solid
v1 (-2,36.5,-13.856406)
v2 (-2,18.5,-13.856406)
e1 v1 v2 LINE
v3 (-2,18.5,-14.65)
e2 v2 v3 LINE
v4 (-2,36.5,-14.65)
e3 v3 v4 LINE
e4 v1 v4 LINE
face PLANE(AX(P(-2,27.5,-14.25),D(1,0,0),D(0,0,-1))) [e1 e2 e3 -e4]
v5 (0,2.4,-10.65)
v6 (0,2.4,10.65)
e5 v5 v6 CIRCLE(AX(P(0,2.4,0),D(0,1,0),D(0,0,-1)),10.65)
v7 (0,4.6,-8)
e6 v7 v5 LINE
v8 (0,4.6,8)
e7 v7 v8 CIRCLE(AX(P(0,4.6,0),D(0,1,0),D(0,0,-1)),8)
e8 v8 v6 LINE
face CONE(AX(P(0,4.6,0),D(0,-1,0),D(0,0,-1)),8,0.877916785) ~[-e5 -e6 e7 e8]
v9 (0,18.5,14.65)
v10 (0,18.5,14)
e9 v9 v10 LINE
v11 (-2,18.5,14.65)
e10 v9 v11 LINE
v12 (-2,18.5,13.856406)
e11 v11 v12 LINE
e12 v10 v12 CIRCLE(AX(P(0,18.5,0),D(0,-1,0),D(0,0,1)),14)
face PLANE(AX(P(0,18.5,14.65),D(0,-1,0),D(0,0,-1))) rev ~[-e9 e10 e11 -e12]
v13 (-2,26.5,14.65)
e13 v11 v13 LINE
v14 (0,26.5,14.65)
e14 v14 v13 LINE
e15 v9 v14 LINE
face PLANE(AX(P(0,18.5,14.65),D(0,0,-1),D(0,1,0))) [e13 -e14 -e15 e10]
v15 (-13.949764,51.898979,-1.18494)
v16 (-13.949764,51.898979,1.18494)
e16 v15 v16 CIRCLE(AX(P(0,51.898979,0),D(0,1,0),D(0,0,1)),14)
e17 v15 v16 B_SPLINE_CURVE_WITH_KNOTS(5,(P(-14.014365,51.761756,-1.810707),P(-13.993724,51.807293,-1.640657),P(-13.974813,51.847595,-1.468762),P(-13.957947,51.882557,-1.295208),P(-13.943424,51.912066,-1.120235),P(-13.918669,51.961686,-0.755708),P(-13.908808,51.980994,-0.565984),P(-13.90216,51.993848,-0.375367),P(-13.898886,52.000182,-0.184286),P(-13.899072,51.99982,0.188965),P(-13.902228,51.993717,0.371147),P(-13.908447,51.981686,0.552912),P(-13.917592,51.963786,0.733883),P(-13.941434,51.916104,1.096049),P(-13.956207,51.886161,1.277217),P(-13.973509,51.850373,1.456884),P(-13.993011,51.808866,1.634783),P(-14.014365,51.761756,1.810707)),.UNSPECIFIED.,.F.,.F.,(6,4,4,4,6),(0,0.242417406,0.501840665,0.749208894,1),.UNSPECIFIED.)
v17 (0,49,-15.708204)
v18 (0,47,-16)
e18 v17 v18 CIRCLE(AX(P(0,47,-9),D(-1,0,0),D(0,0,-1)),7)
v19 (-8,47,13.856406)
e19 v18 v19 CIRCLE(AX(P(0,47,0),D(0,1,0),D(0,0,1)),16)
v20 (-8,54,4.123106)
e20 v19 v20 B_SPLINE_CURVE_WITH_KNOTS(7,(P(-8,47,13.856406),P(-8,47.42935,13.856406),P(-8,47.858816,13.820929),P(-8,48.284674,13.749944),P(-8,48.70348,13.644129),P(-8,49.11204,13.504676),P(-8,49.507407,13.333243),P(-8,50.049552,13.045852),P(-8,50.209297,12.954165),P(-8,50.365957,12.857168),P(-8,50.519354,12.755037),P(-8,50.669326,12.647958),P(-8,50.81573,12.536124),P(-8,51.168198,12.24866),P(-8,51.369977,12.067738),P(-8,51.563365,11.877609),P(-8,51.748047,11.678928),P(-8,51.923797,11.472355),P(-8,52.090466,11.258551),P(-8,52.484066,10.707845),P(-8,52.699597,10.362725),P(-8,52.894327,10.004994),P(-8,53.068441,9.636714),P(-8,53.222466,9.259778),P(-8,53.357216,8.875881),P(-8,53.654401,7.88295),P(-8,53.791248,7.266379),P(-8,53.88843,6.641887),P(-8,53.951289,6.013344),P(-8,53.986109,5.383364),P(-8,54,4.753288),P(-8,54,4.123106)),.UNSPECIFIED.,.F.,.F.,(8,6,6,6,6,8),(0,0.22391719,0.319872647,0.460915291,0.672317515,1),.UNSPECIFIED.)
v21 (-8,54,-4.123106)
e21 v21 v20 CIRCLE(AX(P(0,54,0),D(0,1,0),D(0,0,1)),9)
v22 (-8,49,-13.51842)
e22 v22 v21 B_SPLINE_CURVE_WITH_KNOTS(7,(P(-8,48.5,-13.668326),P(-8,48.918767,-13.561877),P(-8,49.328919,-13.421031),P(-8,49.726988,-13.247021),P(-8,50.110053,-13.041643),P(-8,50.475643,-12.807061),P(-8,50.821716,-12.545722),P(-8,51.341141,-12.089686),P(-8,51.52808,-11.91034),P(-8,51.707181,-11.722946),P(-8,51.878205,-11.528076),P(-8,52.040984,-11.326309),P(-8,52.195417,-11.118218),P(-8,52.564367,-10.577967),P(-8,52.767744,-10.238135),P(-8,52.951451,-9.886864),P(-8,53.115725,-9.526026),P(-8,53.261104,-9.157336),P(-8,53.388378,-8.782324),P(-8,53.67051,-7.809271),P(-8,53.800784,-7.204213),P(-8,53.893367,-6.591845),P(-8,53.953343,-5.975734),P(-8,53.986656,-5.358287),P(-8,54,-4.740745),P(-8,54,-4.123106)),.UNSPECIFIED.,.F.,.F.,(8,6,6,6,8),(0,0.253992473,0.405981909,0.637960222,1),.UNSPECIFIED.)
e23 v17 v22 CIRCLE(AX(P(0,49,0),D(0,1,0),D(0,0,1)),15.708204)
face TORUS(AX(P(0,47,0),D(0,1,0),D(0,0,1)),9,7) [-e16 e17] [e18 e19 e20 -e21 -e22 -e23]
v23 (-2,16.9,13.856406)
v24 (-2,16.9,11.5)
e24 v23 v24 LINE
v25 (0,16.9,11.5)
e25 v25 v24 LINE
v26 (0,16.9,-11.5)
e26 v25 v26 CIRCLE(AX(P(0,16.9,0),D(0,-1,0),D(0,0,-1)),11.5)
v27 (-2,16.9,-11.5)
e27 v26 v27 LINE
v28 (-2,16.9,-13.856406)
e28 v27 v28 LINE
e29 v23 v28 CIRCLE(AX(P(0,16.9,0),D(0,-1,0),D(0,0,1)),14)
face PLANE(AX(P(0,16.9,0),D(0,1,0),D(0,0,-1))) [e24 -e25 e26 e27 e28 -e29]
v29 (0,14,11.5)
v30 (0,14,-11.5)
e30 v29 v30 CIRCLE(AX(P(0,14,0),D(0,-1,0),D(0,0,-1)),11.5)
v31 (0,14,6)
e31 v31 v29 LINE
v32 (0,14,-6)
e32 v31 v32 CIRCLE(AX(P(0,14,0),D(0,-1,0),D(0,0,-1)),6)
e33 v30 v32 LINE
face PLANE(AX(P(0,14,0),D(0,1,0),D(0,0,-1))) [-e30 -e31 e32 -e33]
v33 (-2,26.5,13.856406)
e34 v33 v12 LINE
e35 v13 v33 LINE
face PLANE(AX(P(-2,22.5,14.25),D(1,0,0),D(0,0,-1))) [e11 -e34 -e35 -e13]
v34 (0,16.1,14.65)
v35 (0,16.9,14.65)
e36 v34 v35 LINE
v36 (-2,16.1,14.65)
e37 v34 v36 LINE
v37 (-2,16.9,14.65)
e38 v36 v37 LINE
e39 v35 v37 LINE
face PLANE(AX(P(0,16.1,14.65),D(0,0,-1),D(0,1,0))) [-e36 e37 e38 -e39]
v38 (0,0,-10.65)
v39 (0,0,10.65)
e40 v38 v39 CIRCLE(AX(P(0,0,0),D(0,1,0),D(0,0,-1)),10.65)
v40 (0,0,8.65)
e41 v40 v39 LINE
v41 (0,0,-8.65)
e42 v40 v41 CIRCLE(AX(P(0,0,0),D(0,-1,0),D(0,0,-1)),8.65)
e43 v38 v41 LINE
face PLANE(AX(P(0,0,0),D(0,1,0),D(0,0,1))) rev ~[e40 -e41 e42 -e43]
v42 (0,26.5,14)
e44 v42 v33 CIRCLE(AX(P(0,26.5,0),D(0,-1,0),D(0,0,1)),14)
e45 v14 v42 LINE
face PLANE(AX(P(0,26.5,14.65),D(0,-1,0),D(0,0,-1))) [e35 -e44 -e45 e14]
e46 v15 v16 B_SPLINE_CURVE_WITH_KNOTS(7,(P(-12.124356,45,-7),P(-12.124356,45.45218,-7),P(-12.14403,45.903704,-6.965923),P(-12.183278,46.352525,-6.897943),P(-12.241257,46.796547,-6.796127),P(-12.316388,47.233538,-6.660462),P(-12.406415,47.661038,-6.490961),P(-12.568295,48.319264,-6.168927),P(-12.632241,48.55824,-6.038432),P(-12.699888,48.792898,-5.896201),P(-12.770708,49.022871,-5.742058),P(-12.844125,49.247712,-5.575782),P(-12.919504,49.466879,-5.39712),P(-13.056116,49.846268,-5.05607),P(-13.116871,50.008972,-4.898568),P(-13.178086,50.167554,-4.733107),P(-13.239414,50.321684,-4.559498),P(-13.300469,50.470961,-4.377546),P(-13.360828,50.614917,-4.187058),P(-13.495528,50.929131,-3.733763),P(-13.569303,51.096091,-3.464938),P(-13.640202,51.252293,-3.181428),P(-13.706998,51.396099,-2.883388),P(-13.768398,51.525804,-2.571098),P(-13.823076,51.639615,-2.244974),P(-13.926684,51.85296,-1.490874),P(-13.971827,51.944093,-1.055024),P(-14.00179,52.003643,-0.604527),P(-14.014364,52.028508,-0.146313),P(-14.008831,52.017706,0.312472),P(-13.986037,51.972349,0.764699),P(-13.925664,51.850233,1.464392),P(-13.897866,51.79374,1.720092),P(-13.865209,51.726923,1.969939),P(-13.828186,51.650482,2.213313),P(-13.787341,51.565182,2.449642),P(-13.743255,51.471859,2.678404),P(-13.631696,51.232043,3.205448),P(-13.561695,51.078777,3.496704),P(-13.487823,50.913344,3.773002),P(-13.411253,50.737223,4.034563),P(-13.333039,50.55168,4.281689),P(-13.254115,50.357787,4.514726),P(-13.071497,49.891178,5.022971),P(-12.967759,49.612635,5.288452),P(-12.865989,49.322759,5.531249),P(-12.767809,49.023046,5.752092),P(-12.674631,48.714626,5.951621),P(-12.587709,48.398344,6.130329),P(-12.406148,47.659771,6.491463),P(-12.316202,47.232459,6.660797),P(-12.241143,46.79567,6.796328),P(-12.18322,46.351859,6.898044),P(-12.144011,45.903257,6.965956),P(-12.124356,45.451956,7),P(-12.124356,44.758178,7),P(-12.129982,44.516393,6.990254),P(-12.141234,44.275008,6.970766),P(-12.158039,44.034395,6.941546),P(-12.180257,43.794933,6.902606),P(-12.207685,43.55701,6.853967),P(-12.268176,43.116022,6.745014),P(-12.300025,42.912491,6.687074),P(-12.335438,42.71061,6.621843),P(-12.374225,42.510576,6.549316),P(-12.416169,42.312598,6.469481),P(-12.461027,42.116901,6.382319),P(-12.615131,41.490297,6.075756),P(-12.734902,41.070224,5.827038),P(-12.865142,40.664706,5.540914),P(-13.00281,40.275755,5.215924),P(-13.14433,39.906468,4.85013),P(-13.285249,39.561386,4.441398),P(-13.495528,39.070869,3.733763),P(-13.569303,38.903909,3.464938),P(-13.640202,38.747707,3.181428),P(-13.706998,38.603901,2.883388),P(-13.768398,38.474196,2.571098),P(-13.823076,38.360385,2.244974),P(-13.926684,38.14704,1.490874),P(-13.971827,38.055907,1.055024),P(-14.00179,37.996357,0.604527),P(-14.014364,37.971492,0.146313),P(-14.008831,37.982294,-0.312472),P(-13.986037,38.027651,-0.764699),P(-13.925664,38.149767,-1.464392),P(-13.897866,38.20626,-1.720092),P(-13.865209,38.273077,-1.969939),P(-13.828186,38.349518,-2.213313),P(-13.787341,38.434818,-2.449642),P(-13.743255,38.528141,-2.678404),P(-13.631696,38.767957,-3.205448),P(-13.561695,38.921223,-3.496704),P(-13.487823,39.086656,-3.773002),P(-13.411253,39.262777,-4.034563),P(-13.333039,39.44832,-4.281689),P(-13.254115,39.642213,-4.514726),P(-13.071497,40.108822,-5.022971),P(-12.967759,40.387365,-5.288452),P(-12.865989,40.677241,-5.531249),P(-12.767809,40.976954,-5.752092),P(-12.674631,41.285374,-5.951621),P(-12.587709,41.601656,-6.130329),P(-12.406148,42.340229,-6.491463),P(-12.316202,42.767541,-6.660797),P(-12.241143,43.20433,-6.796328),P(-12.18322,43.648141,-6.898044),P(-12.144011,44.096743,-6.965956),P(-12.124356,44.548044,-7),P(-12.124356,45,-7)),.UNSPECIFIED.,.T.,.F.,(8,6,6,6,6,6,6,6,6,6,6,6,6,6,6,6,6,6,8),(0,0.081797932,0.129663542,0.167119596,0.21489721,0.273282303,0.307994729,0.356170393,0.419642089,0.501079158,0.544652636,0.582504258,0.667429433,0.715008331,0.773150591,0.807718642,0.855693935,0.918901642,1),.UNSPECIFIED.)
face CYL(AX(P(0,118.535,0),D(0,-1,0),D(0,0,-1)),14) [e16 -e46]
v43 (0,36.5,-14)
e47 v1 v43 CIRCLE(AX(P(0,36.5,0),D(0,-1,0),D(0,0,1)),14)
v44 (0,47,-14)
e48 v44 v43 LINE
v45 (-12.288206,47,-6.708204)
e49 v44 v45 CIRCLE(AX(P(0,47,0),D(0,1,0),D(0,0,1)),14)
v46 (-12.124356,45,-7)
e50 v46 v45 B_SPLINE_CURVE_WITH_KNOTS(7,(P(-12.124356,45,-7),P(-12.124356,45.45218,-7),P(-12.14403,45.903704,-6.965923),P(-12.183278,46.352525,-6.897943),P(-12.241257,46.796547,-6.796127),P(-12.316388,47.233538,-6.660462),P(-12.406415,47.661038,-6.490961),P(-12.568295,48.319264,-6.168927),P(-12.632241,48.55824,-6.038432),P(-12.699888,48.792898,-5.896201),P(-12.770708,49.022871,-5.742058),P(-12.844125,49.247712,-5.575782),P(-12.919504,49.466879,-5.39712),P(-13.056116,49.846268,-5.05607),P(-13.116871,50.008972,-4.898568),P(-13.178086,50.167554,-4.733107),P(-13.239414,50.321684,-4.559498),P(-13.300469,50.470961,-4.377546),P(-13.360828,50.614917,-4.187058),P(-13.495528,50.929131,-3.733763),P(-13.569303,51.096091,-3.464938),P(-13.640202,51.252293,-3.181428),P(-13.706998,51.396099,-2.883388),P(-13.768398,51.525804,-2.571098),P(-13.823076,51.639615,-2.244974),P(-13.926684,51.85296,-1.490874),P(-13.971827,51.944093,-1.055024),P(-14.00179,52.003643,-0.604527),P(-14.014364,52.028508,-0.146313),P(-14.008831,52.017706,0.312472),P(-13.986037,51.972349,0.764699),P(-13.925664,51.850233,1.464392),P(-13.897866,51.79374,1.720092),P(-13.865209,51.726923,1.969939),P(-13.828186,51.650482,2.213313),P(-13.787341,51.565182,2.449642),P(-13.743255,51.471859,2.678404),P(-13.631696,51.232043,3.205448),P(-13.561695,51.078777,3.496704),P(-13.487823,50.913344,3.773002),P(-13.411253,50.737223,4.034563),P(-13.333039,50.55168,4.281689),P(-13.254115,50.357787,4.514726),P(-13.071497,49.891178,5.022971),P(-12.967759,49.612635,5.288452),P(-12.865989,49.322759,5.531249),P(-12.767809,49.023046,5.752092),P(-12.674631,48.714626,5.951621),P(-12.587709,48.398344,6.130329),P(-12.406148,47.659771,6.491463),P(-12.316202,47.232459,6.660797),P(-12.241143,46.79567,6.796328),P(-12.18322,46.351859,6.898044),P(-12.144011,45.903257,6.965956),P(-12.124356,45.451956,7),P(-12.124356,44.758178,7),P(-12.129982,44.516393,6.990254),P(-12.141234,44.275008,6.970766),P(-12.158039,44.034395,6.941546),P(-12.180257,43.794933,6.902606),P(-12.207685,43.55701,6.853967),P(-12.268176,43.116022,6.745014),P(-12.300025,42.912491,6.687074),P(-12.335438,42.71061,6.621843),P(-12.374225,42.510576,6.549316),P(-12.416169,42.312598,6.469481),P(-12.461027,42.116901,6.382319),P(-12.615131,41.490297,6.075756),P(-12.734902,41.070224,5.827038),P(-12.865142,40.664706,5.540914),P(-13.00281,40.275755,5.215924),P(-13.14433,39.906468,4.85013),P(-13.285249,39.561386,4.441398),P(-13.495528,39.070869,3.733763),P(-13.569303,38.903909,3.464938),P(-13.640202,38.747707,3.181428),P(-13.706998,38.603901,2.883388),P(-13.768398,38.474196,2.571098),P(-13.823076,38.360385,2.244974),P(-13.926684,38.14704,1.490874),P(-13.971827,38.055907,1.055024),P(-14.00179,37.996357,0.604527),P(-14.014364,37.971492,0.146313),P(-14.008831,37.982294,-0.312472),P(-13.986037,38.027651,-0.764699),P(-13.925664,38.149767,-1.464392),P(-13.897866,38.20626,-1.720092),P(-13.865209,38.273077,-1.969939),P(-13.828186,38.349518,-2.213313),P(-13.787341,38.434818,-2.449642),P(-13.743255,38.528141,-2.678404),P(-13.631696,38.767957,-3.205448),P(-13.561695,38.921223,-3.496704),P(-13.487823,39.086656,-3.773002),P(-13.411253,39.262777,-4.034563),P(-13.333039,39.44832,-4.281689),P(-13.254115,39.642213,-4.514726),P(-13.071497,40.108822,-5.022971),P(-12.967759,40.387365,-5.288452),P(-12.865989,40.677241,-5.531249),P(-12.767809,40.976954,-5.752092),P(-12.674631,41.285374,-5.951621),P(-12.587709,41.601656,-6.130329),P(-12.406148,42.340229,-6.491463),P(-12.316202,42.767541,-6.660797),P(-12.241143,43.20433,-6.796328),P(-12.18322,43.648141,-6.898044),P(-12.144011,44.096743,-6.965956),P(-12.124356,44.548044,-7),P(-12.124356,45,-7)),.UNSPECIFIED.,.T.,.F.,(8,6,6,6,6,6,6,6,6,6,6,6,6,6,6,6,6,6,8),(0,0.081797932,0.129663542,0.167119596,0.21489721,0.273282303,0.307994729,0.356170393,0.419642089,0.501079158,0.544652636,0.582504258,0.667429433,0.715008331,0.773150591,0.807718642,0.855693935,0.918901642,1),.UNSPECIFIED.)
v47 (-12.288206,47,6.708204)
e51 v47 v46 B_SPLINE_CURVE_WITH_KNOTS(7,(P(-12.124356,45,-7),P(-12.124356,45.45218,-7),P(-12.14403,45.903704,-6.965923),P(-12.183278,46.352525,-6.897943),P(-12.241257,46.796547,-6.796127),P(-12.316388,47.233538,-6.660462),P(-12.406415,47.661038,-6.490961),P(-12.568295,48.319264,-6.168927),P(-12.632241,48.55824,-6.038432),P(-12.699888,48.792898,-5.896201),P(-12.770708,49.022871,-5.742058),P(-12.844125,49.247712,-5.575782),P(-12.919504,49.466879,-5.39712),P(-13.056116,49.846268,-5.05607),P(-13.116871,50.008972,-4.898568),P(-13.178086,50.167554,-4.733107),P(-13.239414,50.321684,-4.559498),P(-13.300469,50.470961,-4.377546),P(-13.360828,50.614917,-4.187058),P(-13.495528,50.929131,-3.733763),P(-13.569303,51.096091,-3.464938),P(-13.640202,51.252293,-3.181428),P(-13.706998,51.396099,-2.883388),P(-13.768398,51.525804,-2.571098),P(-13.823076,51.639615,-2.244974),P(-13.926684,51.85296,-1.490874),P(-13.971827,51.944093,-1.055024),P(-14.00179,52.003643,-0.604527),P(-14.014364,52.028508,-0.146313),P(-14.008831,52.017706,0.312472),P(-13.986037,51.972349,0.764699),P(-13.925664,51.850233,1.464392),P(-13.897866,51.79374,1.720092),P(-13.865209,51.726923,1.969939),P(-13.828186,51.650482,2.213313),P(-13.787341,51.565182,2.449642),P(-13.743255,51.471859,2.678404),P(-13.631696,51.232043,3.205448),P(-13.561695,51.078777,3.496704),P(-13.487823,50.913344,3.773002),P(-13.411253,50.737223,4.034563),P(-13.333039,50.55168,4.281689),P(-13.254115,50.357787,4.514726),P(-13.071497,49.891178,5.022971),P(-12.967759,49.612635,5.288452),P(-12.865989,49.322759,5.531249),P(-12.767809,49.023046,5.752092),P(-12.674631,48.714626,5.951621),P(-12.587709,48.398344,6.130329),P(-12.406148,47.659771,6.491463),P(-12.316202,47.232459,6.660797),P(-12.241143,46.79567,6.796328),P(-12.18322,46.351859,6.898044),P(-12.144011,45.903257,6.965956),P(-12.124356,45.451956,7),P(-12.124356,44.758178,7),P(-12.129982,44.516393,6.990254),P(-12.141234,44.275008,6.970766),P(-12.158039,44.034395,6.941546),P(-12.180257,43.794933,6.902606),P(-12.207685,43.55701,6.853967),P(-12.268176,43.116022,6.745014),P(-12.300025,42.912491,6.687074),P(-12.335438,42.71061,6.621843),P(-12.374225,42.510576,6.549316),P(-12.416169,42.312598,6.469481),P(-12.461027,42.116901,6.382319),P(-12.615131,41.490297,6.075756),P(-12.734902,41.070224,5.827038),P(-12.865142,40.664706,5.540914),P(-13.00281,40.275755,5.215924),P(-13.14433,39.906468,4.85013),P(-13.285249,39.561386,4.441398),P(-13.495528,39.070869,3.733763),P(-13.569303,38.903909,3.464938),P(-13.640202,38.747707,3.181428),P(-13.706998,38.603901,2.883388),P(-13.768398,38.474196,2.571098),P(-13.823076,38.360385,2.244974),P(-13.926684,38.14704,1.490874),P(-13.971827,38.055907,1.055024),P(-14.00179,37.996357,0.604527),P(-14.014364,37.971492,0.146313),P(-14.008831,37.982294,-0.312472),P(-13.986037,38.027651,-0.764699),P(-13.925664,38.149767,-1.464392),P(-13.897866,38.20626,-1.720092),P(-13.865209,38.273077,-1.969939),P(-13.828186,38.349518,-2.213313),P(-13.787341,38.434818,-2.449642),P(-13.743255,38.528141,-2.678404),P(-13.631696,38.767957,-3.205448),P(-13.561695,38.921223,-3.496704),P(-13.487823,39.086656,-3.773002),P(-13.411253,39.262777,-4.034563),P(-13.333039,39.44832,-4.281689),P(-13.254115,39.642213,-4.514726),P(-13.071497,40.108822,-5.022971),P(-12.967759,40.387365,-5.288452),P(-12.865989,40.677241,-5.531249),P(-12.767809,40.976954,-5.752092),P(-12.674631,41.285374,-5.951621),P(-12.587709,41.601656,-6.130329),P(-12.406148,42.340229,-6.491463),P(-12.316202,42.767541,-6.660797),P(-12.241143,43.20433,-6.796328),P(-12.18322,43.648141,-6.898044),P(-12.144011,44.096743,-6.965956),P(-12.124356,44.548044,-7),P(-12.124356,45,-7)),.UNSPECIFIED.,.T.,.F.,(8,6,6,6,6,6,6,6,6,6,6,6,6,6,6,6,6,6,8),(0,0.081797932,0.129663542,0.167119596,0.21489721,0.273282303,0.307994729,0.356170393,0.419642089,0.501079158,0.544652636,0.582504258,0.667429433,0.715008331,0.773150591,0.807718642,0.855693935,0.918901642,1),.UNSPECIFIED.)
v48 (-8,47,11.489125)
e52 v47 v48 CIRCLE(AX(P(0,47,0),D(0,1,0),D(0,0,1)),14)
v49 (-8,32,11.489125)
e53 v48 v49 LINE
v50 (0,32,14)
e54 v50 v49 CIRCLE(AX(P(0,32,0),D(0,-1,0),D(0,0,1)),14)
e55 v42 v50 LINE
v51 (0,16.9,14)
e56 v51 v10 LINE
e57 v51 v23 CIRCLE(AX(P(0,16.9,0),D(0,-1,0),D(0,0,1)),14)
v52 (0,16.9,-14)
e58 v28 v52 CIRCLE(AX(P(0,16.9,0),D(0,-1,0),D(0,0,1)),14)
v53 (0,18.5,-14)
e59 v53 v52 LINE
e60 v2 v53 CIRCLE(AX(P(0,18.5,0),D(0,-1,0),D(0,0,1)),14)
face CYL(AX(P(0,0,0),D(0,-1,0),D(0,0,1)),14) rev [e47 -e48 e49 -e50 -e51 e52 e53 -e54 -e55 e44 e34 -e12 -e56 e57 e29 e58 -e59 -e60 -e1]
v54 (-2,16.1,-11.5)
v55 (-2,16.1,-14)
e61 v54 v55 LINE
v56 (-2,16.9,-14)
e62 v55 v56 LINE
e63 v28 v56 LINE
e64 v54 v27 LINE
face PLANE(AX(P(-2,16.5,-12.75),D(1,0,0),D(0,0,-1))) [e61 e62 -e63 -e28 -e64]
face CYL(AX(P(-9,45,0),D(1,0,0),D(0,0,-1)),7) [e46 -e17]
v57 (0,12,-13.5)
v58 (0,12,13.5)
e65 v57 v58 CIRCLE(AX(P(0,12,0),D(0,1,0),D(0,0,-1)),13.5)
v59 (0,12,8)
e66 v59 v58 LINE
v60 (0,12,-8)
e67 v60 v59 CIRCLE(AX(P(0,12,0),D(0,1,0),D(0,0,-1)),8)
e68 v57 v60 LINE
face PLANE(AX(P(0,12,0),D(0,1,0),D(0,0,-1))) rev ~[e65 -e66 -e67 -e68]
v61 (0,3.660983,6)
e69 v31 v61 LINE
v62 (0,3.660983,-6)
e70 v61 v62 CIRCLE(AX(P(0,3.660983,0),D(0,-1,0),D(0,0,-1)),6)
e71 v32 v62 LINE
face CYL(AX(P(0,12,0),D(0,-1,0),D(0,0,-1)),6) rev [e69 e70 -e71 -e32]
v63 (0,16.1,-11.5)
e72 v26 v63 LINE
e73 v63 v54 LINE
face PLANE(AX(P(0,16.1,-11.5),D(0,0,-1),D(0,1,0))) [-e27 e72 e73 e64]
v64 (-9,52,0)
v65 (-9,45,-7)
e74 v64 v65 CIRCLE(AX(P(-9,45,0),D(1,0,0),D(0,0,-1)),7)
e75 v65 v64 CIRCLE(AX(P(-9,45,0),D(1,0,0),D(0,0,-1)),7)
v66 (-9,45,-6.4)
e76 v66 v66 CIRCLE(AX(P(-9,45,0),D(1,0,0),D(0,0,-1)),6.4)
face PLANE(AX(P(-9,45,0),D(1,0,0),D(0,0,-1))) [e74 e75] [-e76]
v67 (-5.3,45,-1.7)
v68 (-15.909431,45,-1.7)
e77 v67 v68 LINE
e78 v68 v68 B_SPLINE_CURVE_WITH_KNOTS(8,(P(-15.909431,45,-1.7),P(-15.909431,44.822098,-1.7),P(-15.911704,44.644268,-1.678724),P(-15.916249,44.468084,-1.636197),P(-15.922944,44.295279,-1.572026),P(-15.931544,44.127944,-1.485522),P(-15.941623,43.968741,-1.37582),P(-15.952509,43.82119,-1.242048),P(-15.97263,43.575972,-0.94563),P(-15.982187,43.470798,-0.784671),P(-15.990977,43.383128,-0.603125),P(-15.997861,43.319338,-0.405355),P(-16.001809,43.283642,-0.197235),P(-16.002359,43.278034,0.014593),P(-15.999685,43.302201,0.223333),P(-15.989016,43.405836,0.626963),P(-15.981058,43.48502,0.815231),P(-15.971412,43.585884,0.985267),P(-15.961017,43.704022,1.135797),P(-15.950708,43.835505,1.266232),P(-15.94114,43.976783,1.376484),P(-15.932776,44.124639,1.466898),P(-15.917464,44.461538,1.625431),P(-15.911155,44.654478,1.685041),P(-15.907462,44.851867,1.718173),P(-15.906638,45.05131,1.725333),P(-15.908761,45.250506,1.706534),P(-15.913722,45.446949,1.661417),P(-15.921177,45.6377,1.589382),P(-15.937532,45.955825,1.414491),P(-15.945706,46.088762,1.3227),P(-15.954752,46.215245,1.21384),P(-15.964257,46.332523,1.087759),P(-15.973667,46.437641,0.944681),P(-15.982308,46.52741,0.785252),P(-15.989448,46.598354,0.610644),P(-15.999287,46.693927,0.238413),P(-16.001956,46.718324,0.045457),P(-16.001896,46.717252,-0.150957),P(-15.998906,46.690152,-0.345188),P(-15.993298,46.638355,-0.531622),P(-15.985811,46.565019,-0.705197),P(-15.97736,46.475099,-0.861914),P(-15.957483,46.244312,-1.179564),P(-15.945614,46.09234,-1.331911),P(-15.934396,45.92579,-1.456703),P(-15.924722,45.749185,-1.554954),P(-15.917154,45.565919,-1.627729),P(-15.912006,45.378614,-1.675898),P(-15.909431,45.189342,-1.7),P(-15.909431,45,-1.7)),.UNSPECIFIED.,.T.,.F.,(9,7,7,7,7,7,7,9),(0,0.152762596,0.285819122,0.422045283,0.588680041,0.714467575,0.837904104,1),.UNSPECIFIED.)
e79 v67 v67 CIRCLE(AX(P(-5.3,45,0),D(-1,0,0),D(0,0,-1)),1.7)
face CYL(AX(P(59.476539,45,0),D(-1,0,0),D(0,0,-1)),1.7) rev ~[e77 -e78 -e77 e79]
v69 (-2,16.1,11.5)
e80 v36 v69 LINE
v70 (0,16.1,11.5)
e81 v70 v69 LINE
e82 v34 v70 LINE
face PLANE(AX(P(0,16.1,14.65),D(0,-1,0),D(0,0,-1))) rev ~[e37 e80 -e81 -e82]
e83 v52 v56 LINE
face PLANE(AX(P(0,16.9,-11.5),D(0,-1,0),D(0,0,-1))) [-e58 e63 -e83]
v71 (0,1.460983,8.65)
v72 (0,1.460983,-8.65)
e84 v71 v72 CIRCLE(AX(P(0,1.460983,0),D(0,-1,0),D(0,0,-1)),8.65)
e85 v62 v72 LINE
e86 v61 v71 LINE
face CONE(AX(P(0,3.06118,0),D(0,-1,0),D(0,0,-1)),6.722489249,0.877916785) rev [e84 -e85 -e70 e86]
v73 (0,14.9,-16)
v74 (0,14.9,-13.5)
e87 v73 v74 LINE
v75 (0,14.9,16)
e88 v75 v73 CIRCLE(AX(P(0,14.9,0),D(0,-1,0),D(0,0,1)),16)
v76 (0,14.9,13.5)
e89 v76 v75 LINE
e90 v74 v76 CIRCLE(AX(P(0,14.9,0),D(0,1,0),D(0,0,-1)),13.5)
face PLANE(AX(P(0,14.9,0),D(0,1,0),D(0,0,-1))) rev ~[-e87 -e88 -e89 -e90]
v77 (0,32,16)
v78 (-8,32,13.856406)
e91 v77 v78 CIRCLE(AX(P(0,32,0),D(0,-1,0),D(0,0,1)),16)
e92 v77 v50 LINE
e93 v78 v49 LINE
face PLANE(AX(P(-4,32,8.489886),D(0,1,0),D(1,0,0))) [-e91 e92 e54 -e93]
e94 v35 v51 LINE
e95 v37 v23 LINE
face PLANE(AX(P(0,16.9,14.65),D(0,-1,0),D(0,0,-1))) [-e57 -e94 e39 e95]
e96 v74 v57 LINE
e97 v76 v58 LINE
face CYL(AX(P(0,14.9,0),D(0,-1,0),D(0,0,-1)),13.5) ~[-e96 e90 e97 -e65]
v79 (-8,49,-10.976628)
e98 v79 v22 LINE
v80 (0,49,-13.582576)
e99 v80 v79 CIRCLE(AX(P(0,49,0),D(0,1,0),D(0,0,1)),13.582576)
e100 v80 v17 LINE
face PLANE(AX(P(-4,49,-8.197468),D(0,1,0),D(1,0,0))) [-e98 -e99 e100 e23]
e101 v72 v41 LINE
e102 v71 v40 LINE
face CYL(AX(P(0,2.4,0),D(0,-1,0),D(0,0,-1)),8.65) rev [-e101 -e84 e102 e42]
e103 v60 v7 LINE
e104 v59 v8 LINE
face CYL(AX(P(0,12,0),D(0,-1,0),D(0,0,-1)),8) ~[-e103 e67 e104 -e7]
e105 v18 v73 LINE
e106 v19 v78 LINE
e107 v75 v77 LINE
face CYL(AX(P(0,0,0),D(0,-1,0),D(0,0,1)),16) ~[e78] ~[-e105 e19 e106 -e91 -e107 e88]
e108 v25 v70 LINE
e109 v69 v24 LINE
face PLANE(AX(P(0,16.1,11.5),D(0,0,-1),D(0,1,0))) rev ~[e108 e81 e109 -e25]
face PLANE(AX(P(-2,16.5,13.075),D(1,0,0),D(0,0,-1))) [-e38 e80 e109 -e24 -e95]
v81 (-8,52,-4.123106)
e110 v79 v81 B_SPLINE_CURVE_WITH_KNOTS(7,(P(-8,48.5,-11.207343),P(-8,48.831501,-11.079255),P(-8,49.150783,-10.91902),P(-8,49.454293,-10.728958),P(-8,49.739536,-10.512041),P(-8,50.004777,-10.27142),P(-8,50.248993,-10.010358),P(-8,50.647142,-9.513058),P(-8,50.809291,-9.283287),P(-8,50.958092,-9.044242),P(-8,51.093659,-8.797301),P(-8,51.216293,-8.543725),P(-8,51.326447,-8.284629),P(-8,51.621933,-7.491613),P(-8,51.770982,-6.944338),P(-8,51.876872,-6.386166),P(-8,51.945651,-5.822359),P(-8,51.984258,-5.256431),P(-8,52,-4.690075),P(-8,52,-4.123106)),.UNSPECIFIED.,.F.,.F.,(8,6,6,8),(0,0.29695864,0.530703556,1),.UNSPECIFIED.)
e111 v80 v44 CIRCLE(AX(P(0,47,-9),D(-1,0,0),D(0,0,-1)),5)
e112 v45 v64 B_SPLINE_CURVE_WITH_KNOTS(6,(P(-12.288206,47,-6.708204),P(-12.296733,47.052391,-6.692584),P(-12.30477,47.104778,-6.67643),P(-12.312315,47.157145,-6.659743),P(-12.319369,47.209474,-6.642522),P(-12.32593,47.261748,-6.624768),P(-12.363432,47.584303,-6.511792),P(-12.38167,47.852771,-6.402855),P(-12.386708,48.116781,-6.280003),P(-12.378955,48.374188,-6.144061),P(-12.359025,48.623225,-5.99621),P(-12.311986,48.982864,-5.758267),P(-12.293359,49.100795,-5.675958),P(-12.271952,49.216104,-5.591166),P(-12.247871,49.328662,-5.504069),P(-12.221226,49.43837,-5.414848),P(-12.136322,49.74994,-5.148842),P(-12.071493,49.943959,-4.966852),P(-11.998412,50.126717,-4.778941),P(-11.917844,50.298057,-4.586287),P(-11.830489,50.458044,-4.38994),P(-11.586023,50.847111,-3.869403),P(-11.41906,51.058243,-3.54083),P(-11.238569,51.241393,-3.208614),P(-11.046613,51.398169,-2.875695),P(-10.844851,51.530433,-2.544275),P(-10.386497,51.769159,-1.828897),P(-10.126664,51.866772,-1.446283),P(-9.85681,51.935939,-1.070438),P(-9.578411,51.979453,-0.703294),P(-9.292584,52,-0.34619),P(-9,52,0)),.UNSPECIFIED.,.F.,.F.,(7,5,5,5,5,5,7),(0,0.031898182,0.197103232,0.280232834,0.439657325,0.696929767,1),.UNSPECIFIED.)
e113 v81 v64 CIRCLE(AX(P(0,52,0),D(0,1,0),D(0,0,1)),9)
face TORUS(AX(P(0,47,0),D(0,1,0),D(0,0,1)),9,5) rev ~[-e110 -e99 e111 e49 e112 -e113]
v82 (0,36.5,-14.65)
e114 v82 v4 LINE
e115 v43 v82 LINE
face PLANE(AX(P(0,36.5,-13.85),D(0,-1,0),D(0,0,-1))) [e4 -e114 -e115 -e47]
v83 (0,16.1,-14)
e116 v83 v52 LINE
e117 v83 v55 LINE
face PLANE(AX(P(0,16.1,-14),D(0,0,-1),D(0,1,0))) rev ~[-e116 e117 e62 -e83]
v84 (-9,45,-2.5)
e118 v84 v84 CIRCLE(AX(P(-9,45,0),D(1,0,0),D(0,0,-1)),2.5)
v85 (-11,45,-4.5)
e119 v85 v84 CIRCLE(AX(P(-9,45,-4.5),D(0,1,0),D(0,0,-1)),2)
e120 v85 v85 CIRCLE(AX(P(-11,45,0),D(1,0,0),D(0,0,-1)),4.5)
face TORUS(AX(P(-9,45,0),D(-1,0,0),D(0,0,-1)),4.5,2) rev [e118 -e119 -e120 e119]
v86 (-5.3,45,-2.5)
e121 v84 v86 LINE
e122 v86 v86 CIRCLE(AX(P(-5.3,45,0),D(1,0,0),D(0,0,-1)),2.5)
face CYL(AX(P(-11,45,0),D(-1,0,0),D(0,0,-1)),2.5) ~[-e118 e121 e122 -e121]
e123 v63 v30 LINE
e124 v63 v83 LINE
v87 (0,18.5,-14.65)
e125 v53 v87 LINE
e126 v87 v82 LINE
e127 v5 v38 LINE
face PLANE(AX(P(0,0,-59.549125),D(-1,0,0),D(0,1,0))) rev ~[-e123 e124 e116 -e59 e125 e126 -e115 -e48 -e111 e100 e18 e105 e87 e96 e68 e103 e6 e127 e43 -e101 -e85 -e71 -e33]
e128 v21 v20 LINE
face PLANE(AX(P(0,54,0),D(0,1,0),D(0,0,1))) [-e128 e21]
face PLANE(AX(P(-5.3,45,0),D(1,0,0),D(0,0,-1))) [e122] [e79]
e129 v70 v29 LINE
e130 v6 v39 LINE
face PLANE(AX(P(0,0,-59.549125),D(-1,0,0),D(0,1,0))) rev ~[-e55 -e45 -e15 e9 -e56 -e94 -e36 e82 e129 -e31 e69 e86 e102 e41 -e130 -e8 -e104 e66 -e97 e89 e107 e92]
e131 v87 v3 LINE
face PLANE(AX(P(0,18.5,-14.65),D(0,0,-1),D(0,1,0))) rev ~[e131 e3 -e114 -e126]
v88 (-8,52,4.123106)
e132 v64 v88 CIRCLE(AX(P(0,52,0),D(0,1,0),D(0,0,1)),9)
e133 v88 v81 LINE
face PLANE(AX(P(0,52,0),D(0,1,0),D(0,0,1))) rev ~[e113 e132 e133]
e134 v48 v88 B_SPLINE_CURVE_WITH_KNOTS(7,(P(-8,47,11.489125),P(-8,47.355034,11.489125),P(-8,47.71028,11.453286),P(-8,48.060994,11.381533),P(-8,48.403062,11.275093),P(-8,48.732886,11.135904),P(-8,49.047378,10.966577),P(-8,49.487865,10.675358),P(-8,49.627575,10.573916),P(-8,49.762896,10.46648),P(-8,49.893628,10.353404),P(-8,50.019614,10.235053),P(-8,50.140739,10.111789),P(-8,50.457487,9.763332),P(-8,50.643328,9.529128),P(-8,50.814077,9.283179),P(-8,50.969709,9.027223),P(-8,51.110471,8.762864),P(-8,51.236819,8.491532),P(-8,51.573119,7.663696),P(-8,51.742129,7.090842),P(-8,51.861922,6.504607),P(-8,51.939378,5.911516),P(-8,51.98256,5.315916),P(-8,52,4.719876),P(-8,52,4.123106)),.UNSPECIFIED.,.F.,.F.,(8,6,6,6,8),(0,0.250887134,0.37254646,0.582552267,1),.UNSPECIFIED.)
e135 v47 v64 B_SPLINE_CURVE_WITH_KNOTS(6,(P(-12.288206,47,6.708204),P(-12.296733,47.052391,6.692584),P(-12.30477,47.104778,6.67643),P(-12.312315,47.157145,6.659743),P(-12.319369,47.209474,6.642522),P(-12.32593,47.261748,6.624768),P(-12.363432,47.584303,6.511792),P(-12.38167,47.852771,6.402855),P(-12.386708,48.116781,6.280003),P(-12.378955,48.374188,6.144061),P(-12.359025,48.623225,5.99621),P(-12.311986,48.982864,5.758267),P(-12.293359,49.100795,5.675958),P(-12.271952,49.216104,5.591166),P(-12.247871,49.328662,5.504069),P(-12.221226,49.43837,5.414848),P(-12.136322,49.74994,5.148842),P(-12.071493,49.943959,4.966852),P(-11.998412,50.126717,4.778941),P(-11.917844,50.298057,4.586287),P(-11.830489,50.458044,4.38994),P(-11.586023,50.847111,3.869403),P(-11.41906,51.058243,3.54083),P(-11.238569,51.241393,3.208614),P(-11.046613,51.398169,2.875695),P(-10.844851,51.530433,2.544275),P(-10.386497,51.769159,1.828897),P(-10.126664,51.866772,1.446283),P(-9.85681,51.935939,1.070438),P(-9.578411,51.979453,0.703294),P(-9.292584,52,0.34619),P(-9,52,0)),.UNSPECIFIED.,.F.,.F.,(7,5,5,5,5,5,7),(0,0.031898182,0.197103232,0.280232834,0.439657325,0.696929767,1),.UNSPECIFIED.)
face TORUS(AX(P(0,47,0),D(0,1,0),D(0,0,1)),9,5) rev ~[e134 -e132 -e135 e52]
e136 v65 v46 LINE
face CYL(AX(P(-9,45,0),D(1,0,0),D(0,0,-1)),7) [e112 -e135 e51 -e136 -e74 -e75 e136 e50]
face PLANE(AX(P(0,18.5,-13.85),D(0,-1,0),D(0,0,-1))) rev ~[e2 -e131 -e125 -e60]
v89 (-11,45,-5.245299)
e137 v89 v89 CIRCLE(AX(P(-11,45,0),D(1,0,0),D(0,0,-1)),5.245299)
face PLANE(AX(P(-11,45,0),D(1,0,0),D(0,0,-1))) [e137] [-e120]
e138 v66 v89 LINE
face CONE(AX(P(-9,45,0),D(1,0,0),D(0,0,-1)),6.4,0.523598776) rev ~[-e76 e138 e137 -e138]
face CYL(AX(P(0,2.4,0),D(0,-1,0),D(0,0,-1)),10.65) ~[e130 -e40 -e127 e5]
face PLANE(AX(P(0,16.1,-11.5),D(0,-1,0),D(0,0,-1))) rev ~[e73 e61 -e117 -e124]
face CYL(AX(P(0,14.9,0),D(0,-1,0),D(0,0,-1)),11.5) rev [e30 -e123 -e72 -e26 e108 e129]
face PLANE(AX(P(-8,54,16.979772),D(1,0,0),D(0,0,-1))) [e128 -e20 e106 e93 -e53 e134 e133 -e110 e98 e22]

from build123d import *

# Parameters (mm, degrees)
SKETCH_1_R               = 16
EXTRUDE_1_DEPTH          = 54
FILLET_1_R               = 7
SHELL_1_T                = -2
CUT_EXTRUDE_1_DEPTH      = 59.549124673
CUT_EXTRUDE_1_DEPTH_BACK = 59.549124673
SKETCH_3_W               = 17.994708596
SKETCH_3_H               = 55.587571792
SKETCH_4_W               = 8
SKETCH_4_H               = 16.979772428
CUT_EXTRUDE_3_DEPTH      = 22
SKETCH_5_W               = 8
SKETCH_5_H               = 16.394935261
CUT_EXTRUDE_4_DEPTH      = 5
EXTRUDE_2_REACH          = 59.035
EXTRUDE_2_END_RADIUS     = 14
SKETCH_6_R               = 7
SKETCH_8_R               = 6.4
CUT_EXTRUDE_6_DEPTH      = 2
CUT_EXTRUDE_6_DRAFT      = -30
SKETCH_10_W              = 0.8
SKETCH_10_H              = 8
SKETCH_10_W_2            = 3.15
SKETCH_10_H_2            = 0.8
SKETCH_10_W_3            = 2.5
SKETCH_10_H_3            = 18
CUT_EXTRUDE_7_DEPTH      = 2
EXTRUDE_3_DEPTH          = 3.7
EXTRUDE_3_DEPTH_BACK     = 2
SKETCH_7_R               = 2.5
HOLE_WIZARD_M3_1_D       = 3.4
FILLET_3_R               = 2


with BuildPart() as part:
    # 스케치1 → 보스-돌출1 (new body)
    with BuildSketch(Plane(origin=(0, 0, 0), x_dir=(1, 0, 0), z_dir=(0, 1, 0))):
        with Locations(Location((0, 0, 0), (0, 0, 270))):
            Circle(SKETCH_1_R)
    extrude(amount=EXTRUDE_1_DEPTH)

    # 스케치2 → 컷-회전1 (revolve, cut)
    with BuildSketch(Plane.XY, mode=Mode.PRIVATE) as cut_revolve_1_sk:
        Polygon((19.244798042, 14.9), (13.5, 14.9), (13.5, 12), (8, 12), (8, 4.6), (10.65, 2.4), (10.65, 0), (19.244798042, 0), align=None)
    revolve(cut_revolve_1_sk.sketch.rotate(Axis((0, 0, 0), (0, 1, 0)), 90), axis=Axis((0, 0, 0), (0, 1, 0)), mode=Mode.SUBTRACT)

    # 필렛1
    fillet_1_edges = [part.edges().sort_by_distance(p)[0] for p in [
        (0, 54, -16),
    ]]
    fillet(fillet_1_edges, radius=FILLET_1_R)

    # 쉘1
    shell_1_openings = [part.faces().sort_by_distance(p)[0] for p in [
        (0, 0, 0),
    ]]
    offset(amount=SHELL_1_T, openings=shell_1_openings, kind=Kind.INTERSECTION)

    # 스케치3 → 컷-돌출1 (cut, two sides: drawn at the far end of the back side and taken through both)
    with BuildSketch(Plane.XY.offset(-CUT_EXTRUDE_1_DEPTH_BACK)):
        with Locations((8.997354298, 27.793785896)):
            Rectangle(SKETCH_3_W, SKETCH_3_H)
    extrude(amount=CUT_EXTRUDE_1_DEPTH + CUT_EXTRUDE_1_DEPTH_BACK, mode=Mode.SUBTRACT)

    # 스케치4 → 컷-돌출3 (cut)
    with BuildSketch(Plane(origin=(0, 54, 0), x_dir=(1, 0, 0), z_dir=(0, 1, 0))):
        with Locations((-4, -8.489886214)):
            Rectangle(SKETCH_4_W, SKETCH_4_H)
    extrude(amount=-CUT_EXTRUDE_3_DEPTH, mode=Mode.SUBTRACT)

    # 스케치5 → 컷-돌출4 (cut)
    with BuildSketch(Plane(origin=(0, 54, 0), x_dir=(1, 0, 0), z_dir=(0, 1, 0))):
        with Locations((-4, 8.197467631)):
            Rectangle(SKETCH_5_W, SKETCH_5_H)
    extrude(amount=-CUT_EXTRUDE_4_DEPTH, mode=Mode.SUBTRACT)

    # 보스-돌출2: up to this cylinder (the profile starts inside it)
    extrude_2_end = Plane(origin=(0, 45, 0), z_dir=(0, -1, 0)) * Cylinder(EXTRUDE_2_END_RADIUS, 147.07, mode=Mode.PRIVATE)
    # 스케치6 → 보스-돌출2 (add, up to the surface)
    with BuildSketch(Plane(origin=(-9, 0, 0), x_dir=(0, 0, -1), z_dir=(1, 0, 0)), mode=Mode.PRIVATE) as extrude_2_sk1:
        with Locations((0, 45)):
            Circle(SKETCH_6_R)
    extrude_2_tool1 = extrude(extrude_2_sk1.sketch, amount=-EXTRUDE_2_REACH, mode=Mode.PRIVATE) & extrude_2_end
    add(extrude_2_tool1.solids().sort_by_distance((-9, 45, 0))[0])


with BuildPart() as cut_extrude_6_tool:
    # 스케치8 → 컷-돌출6 (with draft: the straight prism first)
    with BuildSketch(Plane(origin=(-9, 0, 0), x_dir=(0, 0, -1), z_dir=(1, 0, 0))):
        with Locations((0, 45)):
            Circle(SKETCH_8_R)
    extrude(amount=-CUT_EXTRUDE_6_DEPTH)
    # 컷-돌출6: the draft: its side faces are tilted about the plane it starts from
    cut_extrude_6_sides = [cut_extrude_6_tool.faces().sort_by_distance(p)[0] for p in [
        (-10, 45, 6.4),
    ]]
    draft(cut_extrude_6_sides, Plane(origin=(-9, 0, 0), x_dir=(0, 0, -1), z_dir=(1, 0, 0)), CUT_EXTRUDE_6_DRAFT)


with BuildPart() as part_1:
    add(part.part)

    # 컷-돌출6: cut by cut_extrude_6_tool
    add(cut_extrude_6_tool.part, mode=Mode.SUBTRACT)

    # 스케치10 → 컷-돌출7 (cut)
    with BuildSketch(Plane(origin=(0, 0, 0), x_dir=(0, 0, -1), z_dir=(1, 0, 0))):
        with Locations((-14.25, 22.5)):
            Rectangle(SKETCH_10_W, SKETCH_10_H)
        with Locations((-13.075, 16.5)):
            Rectangle(SKETCH_10_W_2, SKETCH_10_H_2)
        with Locations((12.75, 16.5)):
            Rectangle(SKETCH_10_W_3, SKETCH_10_H_2)
        with Locations((14.25, 27.5)):
            Rectangle(SKETCH_10_W, SKETCH_10_H_3)
    extrude(amount=-CUT_EXTRUDE_7_DEPTH, mode=Mode.SUBTRACT)

    # 스케치7 → 보스-돌출3 (add, two sides: drawn at the far end of the back side and taken through both)
    with BuildSketch(Plane(origin=(-9, 0, 0), x_dir=(0, 0, -1), z_dir=(1, 0, 0)).offset(-EXTRUDE_3_DEPTH_BACK)):
        with Locations((0, 45)):
            Circle(SKETCH_7_R)
    extrude(amount=EXTRUDE_3_DEPTH + EXTRUDE_3_DEPTH_BACK)

    # M3 여유 구멍1 (through all)
    with Locations(Plane(origin=(-5.3, 45, 0), x_dir=(0, 0, 1), z_dir=(1, 0, 0))):
        with Locations((0, 0)):
            Hole(HOLE_WIZARD_M3_1_D / 2)

    # 필렛3
    fillet_3_edges = [part_1.edges().sort_by_distance(p)[0] for p in [
        (-11, 45, 2.5),
    ]]
    fillet(fillet_3_edges, radius=FILLET_3_R)


solid = part_1.part
